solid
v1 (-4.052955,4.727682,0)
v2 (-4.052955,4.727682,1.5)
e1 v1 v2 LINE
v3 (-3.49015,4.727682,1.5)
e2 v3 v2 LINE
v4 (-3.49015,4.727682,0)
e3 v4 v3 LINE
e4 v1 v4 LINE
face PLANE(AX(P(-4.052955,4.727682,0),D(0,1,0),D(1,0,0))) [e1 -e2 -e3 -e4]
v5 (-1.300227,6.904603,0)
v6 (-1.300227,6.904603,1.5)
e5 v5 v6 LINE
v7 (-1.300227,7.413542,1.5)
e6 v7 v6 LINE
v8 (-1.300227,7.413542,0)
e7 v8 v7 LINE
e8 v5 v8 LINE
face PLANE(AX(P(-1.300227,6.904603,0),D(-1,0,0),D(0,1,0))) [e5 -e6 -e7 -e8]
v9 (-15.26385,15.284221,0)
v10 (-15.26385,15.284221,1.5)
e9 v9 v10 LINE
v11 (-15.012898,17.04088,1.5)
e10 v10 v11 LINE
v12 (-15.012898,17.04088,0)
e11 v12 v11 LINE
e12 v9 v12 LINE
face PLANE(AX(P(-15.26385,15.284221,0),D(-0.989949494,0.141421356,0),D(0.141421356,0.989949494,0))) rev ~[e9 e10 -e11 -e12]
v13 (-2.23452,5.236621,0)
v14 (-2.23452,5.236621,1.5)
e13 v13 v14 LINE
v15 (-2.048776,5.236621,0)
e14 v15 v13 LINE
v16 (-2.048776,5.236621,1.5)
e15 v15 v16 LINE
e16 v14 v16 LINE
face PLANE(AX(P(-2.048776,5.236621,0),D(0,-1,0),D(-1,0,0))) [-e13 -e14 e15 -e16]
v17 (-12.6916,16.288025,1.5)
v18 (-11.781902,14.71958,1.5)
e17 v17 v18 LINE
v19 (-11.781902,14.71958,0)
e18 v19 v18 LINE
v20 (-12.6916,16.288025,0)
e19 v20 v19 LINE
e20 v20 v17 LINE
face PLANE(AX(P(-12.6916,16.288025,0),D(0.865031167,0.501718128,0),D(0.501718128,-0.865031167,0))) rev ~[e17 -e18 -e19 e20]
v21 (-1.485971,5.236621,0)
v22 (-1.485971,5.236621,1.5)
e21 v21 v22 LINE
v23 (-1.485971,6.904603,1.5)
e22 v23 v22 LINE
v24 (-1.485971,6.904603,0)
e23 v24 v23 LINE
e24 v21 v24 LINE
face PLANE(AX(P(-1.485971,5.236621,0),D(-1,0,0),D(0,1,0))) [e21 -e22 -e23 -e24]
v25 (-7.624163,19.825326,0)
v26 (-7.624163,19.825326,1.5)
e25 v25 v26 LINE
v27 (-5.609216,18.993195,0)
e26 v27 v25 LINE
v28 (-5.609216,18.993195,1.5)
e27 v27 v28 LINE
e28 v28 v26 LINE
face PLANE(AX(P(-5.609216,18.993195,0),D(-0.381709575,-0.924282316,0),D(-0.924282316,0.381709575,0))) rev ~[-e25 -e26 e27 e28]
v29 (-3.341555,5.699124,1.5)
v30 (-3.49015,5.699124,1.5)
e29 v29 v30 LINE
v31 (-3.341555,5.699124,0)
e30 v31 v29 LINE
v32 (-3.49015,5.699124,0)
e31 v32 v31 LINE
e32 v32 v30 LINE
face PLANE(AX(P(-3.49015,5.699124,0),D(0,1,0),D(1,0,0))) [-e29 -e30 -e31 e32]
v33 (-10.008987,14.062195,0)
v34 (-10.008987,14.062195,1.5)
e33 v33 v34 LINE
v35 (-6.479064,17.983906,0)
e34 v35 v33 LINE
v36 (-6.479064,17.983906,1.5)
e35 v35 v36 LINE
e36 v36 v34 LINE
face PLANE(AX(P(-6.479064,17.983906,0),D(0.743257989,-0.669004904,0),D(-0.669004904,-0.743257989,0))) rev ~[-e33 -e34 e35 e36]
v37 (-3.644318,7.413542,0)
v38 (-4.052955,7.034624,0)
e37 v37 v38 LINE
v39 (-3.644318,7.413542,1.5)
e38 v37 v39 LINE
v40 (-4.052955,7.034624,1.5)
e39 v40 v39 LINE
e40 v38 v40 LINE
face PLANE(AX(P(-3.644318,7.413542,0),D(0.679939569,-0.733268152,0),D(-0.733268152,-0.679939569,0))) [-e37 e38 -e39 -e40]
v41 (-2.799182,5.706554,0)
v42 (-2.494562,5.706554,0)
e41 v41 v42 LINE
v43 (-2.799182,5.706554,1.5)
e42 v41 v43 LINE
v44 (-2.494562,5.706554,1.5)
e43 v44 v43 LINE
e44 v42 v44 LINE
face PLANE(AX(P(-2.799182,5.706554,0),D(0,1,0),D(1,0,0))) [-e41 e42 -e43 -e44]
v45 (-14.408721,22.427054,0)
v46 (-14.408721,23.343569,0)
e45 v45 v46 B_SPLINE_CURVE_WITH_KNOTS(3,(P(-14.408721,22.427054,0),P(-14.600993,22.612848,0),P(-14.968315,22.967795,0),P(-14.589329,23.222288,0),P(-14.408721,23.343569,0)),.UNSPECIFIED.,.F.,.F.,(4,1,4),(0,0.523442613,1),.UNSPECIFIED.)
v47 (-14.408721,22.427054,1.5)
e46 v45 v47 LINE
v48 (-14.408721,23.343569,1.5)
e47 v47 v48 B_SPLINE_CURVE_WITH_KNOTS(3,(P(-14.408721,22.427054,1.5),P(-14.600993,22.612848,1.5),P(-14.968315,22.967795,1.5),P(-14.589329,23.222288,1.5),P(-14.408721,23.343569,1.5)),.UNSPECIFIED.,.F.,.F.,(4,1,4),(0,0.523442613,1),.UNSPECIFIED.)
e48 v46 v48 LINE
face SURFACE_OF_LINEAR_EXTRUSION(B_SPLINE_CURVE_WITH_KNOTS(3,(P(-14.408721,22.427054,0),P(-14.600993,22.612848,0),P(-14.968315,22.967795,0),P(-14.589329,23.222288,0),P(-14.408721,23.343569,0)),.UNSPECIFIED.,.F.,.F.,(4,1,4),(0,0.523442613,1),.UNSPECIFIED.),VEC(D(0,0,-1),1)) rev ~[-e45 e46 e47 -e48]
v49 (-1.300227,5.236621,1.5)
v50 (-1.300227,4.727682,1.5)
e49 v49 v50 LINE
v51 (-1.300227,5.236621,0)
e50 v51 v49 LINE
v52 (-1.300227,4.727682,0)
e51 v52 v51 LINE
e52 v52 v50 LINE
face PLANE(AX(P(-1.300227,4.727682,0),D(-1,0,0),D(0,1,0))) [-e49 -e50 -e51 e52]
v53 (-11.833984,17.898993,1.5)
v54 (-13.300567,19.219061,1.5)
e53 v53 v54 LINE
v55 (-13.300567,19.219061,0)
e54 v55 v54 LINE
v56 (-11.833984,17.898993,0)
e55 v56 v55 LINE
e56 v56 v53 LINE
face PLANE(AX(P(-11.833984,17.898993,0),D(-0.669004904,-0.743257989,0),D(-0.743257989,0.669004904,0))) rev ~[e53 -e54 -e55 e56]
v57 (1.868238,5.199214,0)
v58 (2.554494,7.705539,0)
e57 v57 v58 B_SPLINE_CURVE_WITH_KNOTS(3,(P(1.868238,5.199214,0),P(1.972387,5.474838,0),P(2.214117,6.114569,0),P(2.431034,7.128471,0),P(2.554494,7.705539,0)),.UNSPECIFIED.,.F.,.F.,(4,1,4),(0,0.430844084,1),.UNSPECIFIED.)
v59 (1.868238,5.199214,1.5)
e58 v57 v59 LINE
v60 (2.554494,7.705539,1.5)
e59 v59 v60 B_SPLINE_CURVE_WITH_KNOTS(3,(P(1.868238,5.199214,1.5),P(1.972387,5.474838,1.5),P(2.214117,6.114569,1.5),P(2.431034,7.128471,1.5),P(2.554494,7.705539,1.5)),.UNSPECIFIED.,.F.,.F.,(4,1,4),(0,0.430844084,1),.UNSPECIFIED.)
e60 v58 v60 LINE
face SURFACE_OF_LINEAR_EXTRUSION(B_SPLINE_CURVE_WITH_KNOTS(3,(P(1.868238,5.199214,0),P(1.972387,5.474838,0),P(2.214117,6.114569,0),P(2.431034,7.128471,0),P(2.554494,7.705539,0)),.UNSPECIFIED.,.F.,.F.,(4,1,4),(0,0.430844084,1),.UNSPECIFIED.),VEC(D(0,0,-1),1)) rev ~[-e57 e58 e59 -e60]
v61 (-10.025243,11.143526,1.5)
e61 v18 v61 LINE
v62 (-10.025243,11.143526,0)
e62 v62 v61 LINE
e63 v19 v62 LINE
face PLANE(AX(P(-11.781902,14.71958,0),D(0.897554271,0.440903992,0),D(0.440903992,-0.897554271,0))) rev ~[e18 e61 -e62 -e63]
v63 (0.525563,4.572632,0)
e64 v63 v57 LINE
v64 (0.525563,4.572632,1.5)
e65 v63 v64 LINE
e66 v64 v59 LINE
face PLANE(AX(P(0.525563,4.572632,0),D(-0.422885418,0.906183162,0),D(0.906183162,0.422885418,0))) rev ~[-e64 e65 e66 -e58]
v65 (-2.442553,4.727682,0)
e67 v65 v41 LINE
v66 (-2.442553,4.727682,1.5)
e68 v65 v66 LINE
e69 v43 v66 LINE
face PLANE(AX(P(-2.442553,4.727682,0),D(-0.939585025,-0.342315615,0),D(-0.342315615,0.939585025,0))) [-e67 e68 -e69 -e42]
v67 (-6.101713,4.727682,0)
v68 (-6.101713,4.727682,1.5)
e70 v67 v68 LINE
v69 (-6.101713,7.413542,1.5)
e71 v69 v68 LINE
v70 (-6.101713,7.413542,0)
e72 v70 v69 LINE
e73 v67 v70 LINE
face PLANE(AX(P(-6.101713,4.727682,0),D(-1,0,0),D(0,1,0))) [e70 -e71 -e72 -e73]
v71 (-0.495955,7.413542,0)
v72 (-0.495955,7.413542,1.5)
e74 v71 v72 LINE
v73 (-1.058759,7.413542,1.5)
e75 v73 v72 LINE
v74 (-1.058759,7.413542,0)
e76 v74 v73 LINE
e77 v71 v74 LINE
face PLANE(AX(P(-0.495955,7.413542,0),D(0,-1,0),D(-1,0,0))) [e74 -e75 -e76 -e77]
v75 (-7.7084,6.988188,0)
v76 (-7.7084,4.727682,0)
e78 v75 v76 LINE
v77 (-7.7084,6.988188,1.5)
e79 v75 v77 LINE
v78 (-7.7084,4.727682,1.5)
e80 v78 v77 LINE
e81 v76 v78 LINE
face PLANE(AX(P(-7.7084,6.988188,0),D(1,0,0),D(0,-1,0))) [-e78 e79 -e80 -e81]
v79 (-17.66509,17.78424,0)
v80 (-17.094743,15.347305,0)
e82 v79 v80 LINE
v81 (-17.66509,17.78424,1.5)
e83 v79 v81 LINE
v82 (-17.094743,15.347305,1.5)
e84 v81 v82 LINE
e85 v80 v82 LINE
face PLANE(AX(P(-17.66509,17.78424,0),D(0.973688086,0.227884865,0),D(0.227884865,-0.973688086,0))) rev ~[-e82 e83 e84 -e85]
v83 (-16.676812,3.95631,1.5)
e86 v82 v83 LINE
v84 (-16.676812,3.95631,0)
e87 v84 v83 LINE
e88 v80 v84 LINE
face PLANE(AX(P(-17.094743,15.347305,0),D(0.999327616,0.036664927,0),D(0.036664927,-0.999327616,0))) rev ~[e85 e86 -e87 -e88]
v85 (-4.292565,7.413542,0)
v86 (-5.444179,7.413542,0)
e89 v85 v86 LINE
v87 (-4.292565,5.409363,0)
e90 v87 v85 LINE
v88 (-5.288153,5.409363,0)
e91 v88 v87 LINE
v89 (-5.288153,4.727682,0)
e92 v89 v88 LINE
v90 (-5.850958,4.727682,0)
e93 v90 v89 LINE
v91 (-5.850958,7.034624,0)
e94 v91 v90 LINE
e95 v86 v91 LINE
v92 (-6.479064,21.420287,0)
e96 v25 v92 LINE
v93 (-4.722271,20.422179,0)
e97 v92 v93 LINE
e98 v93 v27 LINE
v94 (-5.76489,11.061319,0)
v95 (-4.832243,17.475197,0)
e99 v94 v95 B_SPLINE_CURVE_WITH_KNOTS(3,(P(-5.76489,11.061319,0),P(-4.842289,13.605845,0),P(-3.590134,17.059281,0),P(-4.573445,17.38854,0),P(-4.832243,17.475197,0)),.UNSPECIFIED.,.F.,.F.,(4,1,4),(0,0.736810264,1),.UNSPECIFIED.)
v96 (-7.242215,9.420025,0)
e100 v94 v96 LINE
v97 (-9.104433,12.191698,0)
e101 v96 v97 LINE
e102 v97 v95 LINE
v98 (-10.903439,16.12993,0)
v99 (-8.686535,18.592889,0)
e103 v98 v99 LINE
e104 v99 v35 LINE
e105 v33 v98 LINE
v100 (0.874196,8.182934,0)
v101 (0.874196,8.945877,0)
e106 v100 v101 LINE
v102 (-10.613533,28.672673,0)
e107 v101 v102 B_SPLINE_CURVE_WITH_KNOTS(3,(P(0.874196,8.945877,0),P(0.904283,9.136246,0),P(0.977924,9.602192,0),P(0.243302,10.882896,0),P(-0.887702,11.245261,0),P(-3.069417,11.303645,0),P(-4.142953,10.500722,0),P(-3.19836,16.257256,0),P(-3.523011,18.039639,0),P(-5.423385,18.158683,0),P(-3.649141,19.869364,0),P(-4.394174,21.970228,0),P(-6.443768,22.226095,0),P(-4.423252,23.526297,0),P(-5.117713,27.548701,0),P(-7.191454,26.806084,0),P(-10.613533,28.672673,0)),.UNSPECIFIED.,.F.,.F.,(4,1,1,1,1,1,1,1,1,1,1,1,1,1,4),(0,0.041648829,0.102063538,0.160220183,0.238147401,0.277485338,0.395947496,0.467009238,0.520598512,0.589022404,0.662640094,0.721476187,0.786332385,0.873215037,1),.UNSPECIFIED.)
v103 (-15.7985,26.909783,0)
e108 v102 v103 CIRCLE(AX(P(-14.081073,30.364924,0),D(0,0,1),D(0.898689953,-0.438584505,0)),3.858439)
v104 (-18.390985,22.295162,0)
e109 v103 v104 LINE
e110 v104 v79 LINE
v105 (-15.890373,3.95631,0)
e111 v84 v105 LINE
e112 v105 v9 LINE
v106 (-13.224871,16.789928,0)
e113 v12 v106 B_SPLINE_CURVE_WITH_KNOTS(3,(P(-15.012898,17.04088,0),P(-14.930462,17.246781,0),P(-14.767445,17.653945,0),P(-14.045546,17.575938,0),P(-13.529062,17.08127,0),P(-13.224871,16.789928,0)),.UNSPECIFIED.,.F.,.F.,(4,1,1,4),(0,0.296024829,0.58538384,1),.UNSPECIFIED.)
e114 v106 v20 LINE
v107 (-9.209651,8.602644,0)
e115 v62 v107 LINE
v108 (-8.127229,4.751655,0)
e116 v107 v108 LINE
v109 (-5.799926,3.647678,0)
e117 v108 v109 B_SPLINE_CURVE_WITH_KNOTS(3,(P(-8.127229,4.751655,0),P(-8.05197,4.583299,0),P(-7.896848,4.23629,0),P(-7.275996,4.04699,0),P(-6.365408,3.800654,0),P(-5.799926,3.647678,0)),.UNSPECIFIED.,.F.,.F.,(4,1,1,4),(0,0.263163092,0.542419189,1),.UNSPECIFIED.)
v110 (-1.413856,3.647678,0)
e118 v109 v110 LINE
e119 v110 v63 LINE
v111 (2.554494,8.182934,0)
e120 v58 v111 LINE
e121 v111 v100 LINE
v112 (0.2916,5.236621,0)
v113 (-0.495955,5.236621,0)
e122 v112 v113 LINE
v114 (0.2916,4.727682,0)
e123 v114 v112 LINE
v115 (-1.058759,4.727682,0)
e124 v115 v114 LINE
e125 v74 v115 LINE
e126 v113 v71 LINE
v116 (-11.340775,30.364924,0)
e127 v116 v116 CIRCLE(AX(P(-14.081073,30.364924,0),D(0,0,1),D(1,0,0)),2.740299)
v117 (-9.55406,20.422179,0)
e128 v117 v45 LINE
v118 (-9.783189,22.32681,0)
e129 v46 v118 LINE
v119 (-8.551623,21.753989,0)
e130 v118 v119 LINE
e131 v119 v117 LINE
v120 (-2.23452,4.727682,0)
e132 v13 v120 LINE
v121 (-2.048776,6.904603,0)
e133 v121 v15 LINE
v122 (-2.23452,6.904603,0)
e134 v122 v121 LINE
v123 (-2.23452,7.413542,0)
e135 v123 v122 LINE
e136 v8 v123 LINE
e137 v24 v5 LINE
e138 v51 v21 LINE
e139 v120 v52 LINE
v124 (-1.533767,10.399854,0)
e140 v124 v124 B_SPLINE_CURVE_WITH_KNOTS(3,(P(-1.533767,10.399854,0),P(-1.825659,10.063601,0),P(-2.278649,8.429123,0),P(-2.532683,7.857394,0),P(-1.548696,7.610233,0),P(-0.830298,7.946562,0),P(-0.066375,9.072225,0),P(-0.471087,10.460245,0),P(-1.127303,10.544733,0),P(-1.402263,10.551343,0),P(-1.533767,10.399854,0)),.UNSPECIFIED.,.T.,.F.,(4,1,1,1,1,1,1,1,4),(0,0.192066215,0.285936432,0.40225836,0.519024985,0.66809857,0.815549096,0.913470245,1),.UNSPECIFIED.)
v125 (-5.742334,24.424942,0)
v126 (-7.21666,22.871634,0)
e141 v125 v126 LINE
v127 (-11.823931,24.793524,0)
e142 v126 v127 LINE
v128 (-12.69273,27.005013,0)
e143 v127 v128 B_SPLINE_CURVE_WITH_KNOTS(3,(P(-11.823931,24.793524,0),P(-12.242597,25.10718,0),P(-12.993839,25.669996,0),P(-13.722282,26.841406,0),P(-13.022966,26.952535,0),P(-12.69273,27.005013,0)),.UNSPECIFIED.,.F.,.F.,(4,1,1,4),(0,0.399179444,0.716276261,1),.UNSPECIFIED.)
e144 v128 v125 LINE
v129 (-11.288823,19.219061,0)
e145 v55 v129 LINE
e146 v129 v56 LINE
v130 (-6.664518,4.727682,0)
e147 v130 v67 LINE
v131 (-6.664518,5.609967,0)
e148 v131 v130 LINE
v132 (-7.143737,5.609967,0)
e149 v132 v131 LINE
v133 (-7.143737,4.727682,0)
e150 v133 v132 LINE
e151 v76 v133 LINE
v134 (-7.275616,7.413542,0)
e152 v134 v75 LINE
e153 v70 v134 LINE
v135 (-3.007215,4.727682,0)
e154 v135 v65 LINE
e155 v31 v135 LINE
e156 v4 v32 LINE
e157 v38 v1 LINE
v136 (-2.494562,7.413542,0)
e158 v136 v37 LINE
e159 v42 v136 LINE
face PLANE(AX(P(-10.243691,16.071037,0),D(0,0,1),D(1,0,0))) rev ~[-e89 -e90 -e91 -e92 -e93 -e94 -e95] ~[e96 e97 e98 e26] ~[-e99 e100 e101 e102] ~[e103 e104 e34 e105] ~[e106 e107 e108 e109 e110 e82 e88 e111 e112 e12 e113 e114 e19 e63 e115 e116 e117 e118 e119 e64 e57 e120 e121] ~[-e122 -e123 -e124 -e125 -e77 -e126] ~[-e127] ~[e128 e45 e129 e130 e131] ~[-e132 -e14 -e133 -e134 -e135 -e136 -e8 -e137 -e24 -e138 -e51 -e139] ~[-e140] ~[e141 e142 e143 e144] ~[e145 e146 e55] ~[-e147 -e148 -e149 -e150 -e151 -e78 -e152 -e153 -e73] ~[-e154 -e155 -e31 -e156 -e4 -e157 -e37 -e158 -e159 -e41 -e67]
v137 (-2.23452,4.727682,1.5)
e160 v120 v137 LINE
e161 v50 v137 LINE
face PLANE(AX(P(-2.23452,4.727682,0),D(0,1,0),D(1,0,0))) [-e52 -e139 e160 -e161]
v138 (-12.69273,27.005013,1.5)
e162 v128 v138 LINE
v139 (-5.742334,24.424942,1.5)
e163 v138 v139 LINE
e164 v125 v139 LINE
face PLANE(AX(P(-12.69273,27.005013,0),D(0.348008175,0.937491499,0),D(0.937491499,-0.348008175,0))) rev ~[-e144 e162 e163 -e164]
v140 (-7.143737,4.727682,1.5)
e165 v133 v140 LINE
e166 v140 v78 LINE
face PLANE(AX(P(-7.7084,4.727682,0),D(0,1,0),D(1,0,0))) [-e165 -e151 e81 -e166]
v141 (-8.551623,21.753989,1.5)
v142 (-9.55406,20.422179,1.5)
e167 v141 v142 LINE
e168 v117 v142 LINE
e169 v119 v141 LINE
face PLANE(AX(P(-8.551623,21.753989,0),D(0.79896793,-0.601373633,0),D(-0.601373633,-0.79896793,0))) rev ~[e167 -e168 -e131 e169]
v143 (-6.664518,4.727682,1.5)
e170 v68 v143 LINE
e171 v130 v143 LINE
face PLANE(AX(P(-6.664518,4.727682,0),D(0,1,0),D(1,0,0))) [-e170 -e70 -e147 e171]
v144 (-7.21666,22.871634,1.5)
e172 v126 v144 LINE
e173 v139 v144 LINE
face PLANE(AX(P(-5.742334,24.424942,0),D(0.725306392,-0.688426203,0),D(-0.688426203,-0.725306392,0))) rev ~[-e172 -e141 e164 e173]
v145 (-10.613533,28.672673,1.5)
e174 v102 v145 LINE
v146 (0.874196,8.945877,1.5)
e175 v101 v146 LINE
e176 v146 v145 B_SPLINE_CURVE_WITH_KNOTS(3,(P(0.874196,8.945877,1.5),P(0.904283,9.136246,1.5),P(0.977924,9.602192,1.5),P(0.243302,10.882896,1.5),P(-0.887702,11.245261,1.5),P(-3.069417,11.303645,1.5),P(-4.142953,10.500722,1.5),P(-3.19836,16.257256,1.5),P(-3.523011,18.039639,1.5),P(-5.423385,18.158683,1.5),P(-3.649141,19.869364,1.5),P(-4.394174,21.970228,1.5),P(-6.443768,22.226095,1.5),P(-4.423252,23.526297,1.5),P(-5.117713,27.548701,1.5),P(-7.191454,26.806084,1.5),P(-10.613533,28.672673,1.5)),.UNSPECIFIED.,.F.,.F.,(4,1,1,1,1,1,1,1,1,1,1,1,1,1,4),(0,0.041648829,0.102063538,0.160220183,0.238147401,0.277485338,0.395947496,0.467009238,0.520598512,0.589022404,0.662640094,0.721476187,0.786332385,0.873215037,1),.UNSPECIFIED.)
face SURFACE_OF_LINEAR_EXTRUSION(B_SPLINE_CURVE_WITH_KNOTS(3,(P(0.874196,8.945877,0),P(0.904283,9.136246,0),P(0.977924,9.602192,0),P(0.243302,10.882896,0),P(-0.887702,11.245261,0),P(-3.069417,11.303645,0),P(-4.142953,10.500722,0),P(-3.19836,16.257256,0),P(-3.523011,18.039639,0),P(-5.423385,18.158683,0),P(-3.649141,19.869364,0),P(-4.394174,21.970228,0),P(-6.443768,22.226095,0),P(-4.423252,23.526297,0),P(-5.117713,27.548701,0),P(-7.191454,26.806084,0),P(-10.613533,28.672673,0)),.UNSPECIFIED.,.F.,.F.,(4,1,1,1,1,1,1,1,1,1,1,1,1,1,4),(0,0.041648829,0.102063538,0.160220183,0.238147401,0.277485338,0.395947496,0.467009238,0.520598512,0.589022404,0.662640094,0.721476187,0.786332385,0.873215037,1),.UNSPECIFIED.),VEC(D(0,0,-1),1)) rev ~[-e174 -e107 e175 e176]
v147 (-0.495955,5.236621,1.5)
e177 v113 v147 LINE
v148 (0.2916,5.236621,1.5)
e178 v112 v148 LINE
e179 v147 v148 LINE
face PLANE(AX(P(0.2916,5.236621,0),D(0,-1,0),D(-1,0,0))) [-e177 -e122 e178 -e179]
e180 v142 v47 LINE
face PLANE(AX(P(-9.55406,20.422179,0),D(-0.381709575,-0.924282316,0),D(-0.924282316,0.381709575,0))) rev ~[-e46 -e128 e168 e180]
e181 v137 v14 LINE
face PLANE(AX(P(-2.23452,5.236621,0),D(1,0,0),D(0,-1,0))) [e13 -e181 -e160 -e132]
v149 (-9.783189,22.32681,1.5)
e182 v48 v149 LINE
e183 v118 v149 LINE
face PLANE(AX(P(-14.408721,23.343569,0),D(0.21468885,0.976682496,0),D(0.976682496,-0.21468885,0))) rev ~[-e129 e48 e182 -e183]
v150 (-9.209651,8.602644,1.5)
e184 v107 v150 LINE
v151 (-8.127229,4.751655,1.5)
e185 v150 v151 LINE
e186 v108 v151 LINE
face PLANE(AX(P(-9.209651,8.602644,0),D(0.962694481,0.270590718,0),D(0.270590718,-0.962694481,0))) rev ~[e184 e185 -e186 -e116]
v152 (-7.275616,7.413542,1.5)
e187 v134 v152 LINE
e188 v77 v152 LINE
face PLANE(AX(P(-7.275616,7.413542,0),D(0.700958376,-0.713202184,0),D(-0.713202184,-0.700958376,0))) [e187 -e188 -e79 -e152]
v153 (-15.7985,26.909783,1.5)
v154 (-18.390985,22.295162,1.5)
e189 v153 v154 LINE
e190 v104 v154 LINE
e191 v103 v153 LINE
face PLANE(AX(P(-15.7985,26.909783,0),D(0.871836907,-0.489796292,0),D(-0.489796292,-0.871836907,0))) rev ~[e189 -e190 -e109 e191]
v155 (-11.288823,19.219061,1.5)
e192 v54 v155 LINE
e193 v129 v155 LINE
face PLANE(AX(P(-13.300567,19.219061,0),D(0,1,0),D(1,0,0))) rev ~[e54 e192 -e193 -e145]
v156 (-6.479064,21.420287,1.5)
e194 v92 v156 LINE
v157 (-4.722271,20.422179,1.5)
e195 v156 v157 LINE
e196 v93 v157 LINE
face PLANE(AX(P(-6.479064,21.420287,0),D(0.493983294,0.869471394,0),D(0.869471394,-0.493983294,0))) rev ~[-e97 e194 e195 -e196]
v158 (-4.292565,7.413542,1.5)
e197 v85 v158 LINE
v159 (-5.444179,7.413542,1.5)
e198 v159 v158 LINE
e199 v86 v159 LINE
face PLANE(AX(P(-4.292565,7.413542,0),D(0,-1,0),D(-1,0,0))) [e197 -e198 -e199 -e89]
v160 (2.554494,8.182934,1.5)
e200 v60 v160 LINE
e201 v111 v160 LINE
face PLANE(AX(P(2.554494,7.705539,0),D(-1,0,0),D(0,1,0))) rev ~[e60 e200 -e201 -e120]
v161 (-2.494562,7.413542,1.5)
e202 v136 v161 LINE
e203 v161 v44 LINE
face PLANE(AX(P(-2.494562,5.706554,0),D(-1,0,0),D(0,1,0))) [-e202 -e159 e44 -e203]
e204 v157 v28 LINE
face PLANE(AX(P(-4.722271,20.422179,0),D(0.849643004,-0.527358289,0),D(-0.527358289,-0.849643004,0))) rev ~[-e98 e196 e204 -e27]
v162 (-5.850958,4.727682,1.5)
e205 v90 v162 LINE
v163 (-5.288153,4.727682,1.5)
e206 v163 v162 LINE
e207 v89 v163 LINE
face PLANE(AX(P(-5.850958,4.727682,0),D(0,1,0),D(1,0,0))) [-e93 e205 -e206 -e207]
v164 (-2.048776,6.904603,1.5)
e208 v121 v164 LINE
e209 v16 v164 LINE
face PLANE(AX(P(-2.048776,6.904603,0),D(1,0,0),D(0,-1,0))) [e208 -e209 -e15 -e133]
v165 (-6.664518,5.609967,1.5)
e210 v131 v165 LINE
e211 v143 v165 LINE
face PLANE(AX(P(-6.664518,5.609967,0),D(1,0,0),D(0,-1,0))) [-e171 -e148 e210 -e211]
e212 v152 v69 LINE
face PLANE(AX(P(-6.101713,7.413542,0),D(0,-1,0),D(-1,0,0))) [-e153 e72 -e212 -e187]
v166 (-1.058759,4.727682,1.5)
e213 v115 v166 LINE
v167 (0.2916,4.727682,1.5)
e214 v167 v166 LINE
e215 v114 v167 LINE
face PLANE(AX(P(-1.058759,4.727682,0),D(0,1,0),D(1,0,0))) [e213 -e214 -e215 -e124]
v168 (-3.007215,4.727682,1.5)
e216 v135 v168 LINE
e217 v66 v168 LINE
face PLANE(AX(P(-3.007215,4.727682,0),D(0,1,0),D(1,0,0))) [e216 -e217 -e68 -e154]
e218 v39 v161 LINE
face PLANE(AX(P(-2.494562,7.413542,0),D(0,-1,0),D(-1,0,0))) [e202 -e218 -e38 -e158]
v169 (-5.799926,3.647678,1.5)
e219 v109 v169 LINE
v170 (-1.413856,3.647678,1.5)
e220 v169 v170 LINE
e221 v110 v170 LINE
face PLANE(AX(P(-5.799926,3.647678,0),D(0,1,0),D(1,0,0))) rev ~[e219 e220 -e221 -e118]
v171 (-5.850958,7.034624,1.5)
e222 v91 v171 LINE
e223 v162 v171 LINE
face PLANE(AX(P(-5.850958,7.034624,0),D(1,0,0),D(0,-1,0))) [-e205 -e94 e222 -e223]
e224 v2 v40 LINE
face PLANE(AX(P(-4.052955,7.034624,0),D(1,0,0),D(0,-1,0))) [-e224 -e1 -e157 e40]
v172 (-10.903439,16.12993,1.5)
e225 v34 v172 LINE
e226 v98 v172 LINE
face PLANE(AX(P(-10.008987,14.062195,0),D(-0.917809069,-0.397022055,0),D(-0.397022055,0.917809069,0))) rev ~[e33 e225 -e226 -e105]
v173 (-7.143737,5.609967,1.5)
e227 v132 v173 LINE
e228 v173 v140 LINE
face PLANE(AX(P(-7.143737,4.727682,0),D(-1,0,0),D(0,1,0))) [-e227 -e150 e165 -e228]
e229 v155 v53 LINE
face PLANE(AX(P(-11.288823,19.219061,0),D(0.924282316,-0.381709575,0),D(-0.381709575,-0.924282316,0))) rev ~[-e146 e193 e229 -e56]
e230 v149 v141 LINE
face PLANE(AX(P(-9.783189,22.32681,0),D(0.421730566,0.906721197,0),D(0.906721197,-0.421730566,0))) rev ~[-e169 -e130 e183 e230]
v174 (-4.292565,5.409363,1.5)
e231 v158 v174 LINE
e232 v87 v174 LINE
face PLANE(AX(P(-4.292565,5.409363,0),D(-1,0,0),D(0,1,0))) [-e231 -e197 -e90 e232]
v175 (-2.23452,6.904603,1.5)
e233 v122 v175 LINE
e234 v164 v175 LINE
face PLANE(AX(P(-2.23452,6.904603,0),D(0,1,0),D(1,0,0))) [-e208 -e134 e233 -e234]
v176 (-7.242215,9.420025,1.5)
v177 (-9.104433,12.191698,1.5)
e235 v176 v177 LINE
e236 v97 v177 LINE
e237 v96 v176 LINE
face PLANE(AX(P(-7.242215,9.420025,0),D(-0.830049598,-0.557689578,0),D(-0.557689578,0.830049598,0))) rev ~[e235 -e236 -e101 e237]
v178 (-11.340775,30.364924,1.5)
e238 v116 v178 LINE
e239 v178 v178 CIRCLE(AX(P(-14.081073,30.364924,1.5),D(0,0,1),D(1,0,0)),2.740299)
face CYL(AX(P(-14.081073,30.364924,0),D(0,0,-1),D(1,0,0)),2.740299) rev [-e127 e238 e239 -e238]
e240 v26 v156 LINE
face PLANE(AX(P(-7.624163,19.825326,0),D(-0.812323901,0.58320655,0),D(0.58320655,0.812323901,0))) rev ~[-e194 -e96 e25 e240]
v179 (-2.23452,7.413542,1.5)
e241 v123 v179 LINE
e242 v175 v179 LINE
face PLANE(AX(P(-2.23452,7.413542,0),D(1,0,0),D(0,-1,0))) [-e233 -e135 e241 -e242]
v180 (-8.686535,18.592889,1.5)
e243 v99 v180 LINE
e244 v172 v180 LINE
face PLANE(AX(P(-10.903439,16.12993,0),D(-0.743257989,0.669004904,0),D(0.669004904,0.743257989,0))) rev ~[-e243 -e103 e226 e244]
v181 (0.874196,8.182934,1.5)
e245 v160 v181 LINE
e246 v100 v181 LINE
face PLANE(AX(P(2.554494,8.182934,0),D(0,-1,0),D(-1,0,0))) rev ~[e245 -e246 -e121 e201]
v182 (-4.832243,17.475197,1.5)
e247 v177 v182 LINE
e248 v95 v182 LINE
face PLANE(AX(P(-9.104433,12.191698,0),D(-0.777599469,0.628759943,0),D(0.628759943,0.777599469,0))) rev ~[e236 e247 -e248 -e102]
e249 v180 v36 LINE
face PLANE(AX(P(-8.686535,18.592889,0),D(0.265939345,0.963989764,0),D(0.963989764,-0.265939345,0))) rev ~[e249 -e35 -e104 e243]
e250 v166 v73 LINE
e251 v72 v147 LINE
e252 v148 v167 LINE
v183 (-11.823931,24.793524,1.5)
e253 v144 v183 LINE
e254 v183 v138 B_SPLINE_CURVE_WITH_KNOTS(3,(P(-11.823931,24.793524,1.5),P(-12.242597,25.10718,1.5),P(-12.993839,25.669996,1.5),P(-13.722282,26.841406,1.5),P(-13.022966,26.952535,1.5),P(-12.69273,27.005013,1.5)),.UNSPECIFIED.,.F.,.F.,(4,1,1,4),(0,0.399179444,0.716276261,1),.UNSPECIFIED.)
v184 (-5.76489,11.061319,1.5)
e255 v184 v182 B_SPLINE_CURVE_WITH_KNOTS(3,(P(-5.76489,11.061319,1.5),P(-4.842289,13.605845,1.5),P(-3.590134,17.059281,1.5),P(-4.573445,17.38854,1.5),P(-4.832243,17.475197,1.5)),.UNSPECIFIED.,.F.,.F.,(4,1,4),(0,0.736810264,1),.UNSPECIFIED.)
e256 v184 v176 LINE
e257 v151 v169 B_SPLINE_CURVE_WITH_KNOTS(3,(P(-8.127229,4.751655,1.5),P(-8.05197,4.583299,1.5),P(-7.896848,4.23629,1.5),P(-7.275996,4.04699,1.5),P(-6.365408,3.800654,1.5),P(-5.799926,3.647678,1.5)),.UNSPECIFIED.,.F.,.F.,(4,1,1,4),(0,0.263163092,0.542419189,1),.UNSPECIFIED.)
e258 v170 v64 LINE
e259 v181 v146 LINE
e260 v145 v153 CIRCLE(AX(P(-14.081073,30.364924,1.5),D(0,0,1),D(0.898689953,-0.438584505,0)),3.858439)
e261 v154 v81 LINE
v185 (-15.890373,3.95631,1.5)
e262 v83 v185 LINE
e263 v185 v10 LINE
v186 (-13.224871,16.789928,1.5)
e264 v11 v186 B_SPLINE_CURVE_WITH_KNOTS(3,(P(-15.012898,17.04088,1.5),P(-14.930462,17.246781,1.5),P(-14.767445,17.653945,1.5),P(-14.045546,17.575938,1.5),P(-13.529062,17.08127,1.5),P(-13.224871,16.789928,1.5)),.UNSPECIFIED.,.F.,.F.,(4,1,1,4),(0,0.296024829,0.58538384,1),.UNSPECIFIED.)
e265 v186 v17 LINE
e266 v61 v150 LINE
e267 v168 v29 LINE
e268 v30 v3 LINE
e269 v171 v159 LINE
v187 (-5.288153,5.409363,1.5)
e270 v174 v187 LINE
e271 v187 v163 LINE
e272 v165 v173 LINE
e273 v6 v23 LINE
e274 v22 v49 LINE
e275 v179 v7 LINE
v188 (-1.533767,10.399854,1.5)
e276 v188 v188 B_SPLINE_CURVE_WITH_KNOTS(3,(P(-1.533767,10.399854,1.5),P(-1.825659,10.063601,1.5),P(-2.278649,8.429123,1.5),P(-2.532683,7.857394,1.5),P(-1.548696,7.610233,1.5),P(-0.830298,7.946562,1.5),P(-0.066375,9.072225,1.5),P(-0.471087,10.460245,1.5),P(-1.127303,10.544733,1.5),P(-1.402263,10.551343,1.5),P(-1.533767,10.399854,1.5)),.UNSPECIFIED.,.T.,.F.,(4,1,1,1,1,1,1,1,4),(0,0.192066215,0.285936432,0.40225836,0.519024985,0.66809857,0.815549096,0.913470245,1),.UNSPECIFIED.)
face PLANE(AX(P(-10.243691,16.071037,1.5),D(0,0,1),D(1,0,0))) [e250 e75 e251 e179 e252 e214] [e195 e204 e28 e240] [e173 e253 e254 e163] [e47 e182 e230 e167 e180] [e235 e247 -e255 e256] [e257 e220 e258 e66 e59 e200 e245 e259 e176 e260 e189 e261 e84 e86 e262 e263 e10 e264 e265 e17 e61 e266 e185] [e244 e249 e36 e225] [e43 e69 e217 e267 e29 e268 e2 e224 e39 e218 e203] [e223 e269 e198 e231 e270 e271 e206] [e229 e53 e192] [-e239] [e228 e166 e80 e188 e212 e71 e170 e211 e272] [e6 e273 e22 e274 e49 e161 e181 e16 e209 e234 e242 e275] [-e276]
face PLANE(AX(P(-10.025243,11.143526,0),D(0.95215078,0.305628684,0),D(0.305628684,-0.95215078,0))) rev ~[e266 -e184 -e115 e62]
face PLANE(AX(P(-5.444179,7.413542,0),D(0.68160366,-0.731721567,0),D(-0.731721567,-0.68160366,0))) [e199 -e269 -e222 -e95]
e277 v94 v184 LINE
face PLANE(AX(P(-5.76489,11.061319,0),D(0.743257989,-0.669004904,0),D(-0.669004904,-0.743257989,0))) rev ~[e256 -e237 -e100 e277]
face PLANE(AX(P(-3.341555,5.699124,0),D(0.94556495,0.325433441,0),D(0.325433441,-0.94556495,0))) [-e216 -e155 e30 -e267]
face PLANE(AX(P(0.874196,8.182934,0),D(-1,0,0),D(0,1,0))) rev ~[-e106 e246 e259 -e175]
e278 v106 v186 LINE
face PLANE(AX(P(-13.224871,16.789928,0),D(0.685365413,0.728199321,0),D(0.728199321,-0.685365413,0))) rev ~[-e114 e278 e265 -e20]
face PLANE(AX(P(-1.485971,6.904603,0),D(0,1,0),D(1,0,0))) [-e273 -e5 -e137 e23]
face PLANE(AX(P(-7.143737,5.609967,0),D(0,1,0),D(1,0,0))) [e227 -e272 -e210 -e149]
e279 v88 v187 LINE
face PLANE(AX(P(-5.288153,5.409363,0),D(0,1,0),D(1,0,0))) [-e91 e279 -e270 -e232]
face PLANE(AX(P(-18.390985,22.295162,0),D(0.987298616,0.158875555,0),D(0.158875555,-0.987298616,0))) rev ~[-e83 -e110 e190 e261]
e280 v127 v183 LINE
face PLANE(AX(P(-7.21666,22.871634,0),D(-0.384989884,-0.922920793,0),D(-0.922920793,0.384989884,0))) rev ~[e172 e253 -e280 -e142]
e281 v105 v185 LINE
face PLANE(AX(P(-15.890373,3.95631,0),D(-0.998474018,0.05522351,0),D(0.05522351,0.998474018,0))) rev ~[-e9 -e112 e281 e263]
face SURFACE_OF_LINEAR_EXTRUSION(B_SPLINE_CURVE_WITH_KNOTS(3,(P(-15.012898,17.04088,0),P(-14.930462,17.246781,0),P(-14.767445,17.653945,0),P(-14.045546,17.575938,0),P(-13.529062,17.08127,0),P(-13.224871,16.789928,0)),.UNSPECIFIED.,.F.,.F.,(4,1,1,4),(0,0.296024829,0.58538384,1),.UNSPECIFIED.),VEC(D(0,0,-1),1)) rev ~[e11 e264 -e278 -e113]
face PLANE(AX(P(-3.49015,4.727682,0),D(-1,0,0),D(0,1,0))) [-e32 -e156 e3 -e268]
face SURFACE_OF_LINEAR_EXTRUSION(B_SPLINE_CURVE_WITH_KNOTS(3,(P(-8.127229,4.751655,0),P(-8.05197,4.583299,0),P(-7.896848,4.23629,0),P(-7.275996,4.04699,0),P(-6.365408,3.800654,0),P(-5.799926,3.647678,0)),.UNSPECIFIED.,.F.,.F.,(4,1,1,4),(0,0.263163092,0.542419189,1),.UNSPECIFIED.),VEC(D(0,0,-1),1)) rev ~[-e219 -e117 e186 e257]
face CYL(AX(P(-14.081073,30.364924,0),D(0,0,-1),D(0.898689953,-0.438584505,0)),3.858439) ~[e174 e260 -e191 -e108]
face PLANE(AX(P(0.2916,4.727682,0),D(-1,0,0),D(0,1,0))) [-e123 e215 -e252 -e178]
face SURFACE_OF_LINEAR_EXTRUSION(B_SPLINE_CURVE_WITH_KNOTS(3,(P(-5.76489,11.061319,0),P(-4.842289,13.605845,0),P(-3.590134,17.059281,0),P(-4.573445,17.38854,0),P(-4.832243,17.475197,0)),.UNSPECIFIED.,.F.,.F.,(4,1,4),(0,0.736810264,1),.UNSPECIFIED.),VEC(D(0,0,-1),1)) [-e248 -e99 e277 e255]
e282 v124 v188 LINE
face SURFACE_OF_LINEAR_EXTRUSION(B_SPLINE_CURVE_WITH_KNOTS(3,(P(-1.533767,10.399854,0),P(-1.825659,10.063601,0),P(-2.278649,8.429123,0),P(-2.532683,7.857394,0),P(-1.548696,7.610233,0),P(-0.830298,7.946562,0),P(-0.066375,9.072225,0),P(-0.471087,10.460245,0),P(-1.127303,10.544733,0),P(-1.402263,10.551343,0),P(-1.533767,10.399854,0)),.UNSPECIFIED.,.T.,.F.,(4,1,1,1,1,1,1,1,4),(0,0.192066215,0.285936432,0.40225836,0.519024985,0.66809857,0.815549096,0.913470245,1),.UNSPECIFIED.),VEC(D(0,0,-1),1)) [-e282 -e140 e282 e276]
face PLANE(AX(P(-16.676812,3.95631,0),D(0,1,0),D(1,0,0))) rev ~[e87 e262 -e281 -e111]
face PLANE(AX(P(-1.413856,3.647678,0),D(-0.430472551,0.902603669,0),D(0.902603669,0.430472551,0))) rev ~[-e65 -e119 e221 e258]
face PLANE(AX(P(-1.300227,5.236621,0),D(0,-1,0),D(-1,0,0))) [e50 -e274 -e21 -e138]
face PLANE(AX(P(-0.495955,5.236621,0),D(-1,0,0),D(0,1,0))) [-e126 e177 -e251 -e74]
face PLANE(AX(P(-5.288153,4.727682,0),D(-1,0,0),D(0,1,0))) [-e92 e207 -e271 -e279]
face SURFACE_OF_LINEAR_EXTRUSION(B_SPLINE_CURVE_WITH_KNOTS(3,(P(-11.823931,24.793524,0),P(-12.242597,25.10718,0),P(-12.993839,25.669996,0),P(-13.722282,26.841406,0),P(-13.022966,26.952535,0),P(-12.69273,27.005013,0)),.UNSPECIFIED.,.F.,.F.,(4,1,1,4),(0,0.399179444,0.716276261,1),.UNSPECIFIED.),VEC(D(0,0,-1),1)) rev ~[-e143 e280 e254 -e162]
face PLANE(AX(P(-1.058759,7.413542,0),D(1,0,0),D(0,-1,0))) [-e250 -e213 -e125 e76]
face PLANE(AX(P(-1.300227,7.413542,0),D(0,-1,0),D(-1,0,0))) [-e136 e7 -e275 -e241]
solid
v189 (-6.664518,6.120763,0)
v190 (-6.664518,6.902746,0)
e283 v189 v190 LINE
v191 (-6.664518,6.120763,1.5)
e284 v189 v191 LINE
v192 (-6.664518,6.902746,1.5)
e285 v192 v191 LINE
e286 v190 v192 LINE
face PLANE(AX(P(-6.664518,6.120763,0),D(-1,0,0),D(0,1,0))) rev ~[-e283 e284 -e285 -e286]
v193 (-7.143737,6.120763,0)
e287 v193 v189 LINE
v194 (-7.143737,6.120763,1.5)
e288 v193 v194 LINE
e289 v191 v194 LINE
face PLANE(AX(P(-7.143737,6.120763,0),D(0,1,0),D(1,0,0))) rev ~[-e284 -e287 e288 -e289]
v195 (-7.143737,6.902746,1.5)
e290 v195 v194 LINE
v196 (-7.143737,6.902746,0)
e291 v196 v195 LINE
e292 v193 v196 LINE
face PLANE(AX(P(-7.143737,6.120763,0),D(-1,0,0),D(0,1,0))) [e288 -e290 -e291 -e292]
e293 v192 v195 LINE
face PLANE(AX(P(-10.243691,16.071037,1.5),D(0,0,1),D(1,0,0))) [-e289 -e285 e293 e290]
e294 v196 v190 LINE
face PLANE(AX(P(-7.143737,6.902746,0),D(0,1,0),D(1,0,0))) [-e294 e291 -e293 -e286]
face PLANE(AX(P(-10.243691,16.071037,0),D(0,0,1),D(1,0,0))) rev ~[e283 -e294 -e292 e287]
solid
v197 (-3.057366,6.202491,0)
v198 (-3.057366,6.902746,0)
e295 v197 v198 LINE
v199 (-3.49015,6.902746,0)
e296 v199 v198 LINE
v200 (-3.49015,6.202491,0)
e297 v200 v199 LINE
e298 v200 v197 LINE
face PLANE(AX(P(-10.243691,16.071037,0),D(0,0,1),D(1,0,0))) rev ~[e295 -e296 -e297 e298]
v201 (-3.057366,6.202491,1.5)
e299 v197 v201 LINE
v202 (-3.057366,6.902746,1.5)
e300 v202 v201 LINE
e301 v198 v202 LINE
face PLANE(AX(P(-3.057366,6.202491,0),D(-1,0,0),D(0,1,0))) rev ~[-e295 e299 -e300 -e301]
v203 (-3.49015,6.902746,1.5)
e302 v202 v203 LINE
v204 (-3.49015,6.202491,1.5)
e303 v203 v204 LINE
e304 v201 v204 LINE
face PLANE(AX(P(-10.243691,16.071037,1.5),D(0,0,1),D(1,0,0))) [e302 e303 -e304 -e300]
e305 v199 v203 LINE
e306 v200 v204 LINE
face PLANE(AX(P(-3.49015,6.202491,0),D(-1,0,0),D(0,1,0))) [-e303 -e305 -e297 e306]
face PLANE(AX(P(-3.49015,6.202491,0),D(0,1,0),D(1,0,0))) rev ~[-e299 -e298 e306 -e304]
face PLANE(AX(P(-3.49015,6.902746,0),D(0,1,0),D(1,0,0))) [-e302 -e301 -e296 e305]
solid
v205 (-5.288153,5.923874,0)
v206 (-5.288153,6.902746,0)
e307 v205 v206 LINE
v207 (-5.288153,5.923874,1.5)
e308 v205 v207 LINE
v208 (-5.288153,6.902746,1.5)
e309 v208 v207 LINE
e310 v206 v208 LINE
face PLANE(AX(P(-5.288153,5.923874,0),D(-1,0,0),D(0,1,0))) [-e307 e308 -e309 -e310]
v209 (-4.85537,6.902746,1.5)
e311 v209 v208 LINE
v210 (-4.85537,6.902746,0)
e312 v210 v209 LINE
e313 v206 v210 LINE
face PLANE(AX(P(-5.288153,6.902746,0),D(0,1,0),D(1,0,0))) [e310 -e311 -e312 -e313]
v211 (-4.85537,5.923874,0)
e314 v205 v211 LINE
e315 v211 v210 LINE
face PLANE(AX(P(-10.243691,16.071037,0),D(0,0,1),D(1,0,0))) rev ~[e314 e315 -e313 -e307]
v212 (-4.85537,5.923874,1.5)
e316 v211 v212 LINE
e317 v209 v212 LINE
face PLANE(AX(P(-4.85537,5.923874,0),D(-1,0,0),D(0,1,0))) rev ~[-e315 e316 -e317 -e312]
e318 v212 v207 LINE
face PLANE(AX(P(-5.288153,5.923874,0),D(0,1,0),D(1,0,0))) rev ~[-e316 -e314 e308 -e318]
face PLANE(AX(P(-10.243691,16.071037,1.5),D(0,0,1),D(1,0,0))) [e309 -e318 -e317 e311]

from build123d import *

# Parameters (mm, degrees)
F0_R     = 2.7402986622
F2_DEPTH = 1.5
F1_W     = 0.4792198768
F1_H     = 0.7819828136
F1_W_2   = 0.4327838469
F1_H_2   = 0.9788715972
F1_H_3   = 0.7002553956
F3_DEPTH = 25.4


with BuildPart() as f2:
    # F0 (on Top) → F2 (new body)
    with BuildSketch(Plane.XY):
        with BuildLine():
            Line((-17.0947425067, 15.347304754), (-16.6768115014, 3.9563099854))
            Line((-16.6768115014, 3.9563099854), (-15.8903729171, 3.9563099854))
            Line((-15.8903729171, 3.9563099854), (-15.2638498694, 15.284220688))
            Line((-15.2638498694, 15.284220688), (-15.0128984824, 17.040880397))
            add(Edge.make_bspline(
                [(-15.0128984824, 17.040880397), (-14.9304618209, 17.2467806475), (-14.7674447872, 17.6539447355), (-14.0455459233, 17.5759381815), (-13.5290616404, 17.081269949), (-13.2248708978, 16.7899280787)],
                knots=[0, 0, 0, 0, 0.2960248285, 0.5853838398, 1, 1, 1, 1], degree=3))
            Line((-13.2248708978, 16.7899280787), (-12.6916002482, 16.2880253047))
            Line((-12.6916002482, 16.2880253047), (-11.7819020525, 14.7195803002))
            Line((-11.7819020525, 14.7195803002), (-10.0252432749, 11.1435260624))
            Line((-10.0252432749, 11.1435260624), (-9.2096515, 8.6026443169))
            Line((-9.2096515, 8.6026443169), (-8.1272292882, 4.7516552731))
            add(Edge.make_bspline(
                [(-8.1272292882, 4.7516552731), (-8.0519695337, 4.5832987422), (-7.8968477242, 4.2362903062), (-7.2759957137, 4.0469899119), (-6.3654077617, 3.8006542279), (-5.7999263518, 3.647678066)],
                knots=[0, 0, 0, 0, 0.263163092, 0.5424191889, 1, 1, 1, 1], degree=3))
            Line((-5.7999263518, 3.647678066), (-3.323437646, 3.647678066))
            Line((-3.323437646, 3.647678066), (-1.4138559345, 3.647678066))
            Line((-1.4138559345, 3.647678066), (0.525563024, 4.5726317912))
            Line((0.525563024, 4.5726317912), (1.8682383234, 5.1992135122))
            add(Edge.make_bspline(
                [(1.8682383234, 5.1992135122), (1.972386624, 5.4748378165), (2.21411746, 6.1145687876), (2.4310343978, 7.1284710144), (2.5544939563, 7.705539465)],
                knots=[0, 0, 0, 0, 0.4308440841, 1, 1, 1, 1], degree=3))
            Line((2.5544939563, 7.705539465), (2.5544939563, 8.1829344854))
            Line((2.5544939563, 8.1829344854), (0.8741955971, 8.1829344854))
            Line((0.8741955971, 8.1829344854), (0.8741955971, 8.9458767325))
            add(Edge.make_bspline(
                [(0.8741955971, 8.9458767325), (0.9042829382, 9.1362461938), (0.9779242264, 9.6021915382), (0.2433018959, 10.8828957979), (-0.8877019702, 11.2452606832), (-3.0694174939, 11.3036445811), (-4.1429526474, 10.5007215586), (-3.19835981, 16.2572556985), (-3.5230107509, 18.039638691), (-5.4233853606, 18.1586829155), (-3.6491407444, 19.8693638524), (-4.3941738209, 21.9702283678), (-6.4437681223, 22.226094831), (-4.4232516561, 23.5262967878), (-5.1177133162, 27.5487013005), (-7.1914535947, 26.8060844392), (-10.6135327369, 28.6726728082)],
                knots=[0, 0, 0, 0, 0.0416488288, 0.1020635384, 0.1602201826, 0.2381474007, 0.2774853382, 0.3959474956, 0.4670092378, 0.5205985117, 0.5890224041, 0.6626400943, 0.7214761865, 0.786332385, 0.8732150374, 1, 1, 1, 1], degree=3))
            ThreePointArc((-10.6135327369, 28.6726728082), (-15.3231157261, 34.0179894027), (-15.7984998077, 26.9097834826))
            Line((-15.7984998077, 26.9097834826), (-18.3909852058, 22.2951620817))
            Line((-18.3909852058, 22.2951620817), (-17.6650900394, 17.7842397243))
            Line((-17.6650900394, 17.7842397243), (-17.0947425067, 15.347304754))
        make_face()
        Polygon((-11.8339837041, 17.898992976), (-13.300566934, 19.2190613598), (-11.2888226286, 19.2190613598), align=None, mode=Mode.SUBTRACT)
        Polygon((-10.0089872993, 14.0621947504), (-10.9034394845, 16.1299295723), (-8.6865349557, 18.592889101), (-6.479063537, 17.9839059711), align=None, mode=Mode.SUBTRACT)
        with BuildLine():
            add(Edge.make_bspline(
                [(-1.5337667428, 10.3998538107), (-1.8256591818, 10.063600913), (-2.2786486978, 8.4291230862), (-2.5326832377, 7.8573937842), (-1.5486957063, 7.6102330545), (-0.8302975041, 7.9465621521), (-0.0663747535, 9.0722252418), (-0.4710872513, 10.4602446974), (-1.1273025849, 10.5447333804), (-1.4022632342, 10.5513426124), (-1.5337667428, 10.3998538107)],
                knots=[0, 0, 0, 0, 0.192066215, 0.2859364323, 0.4022583598, 0.5190249851, 0.6680985696, 0.8155490961, 0.9134702453, 1, 1, 1, 1], degree=3))
        make_face(mode=Mode.SUBTRACT)
        with BuildLine():
            Line((-9.1044325382, 12.1916979551), (-4.8322426155, 17.4751970917))
            add(Edge.make_bspline(
                [(-5.7648901438, 11.0613186661), (-4.8422891886, 13.6058452371), (-3.5901337827, 17.0592805313), (-4.5734451551, 17.3885395084), (-4.8322426155, 17.4751970917)],
                knots=[0, 0, 0, 0, 0.7368102641, 1, 1, 1, 1], degree=3))
            Line((-5.7648901438, 11.0613186661), (-7.242214866, 9.4200251624))
            Line((-7.242214866, 9.4200251624), (-9.1044325382, 12.1916979551))
        make_face(mode=Mode.SUBTRACT)
        with BuildLine():
            Line((-14.4087206572, 23.3435686678), (-9.7831888124, 22.3268102854))
            Line((-9.7831888124, 22.3268102854), (-8.5516227409, 21.7539891601))
            Line((-8.5516227409, 21.7539891601), (-9.554060176, 20.4221792519))
            Line((-9.554060176, 20.4221792519), (-14.4087206572, 22.4270541221))
            add(Edge.make_bspline(
                [(-14.4087206572, 22.4270541221), (-14.6009926075, 22.6128483706), (-14.9683145363, 22.9677951093), (-14.5893290095, 23.222288136), (-14.4087206572, 23.3435686678)],
                knots=[0, 0, 0, 0, 0.5234426133, 1, 1, 1, 1], degree=3))
        make_face(mode=Mode.SUBTRACT)
        with BuildLine():
            add(Edge.make_bspline(
                [(-11.8239307776, 24.7935242951), (-12.2425968127, 25.1071804198), (-12.9938392587, 25.6699960641), (-13.7222818392, 26.8414064237), (-13.0229658794, 26.9525351052), (-12.6927299425, 27.0050130785)],
                knots=[0, 0, 0, 0, 0.3991794442, 0.7162762606, 1, 1, 1, 1], degree=3))
            Line((-12.6927299425, 27.0050130785), (-5.7423342951, 24.4249422103))
            Line((-5.7423342951, 24.4249422103), (-7.2166603059, 22.8716339916))
            Line((-7.2166603059, 22.8716339916), (-11.8239307776, 24.7935242951))
        make_face(mode=Mode.SUBTRACT)
        with Locations((-14.0810732747, 30.3649244499)):
            Circle(F0_R, mode=Mode.SUBTRACT)
        Polygon((-7.6241628267, 19.8253262788), (-6.479063537, 21.4202869684), (-4.7222711146, 20.4221792519), (-5.6092163068, 18.9931948336), align=None, mode=Mode.SUBTRACT)
    extrude(amount=F2_DEPTH)

    # F1 (on Top) → F3 (cut)
    with BuildSketch(Plane.XY):
        Polygon((-7.7083995566, 4.7276820987), (-7.1437373811, 4.7276820987), (-7.1437373811, 5.6099667444), (-6.6645175043, 5.6099667444), (-6.6645175043, 4.7276820987), (-6.1017127692, 4.7276820987), (-6.1017127692, 7.4135423264), (-7.2756157207, 7.4135423264), (-7.7083995566, 6.9881882517), align=None)
        with Locations((-6.9041274427, 6.5117545354)):
            Rectangle(F1_W, F1_H, mode=Mode.SUBTRACT)
        Polygon((-5.8509581834, 4.7276820987), (-5.2881534483, 4.7276820987), (-5.2881534483, 5.4093630802), (-4.2925648663, 5.4093630802), (-4.2925648663, 7.4135423264), (-5.444178523, 7.4135423264), (-5.8509581834, 7.0346242817), align=None)
        with Locations((-5.0717615249, 6.4133101436)):
            Rectangle(F1_W_2, F1_H_2, mode=Mode.SUBTRACT)
        Polygon((-3.3415548849, 5.6991239346), (-3.0072154408, 4.7276820987), (-2.4425532545, 4.7276820987), (-2.7991820043, 5.7065536959), (-2.4945616163, 5.7065536959), (-2.4945616163, 7.4135423264), (-3.6443178326, 7.4135423264), (-4.0529549334, 7.0346242817), (-4.0529549334, 4.7276820987), (-3.4901501983, 4.7276820987), (-3.4901501983, 5.6991239346), align=None)
        with Locations((-3.2737582749, 6.5526182444)):
            Rectangle(F1_W_2, F1_H_3, mode=Mode.SUBTRACT)
        Polygon((-1.3002268104, 4.7276820987), (-1.3002268104, 5.2366210317), (-1.4859709521, 5.2366210317), (-1.4859709521, 6.9046033934), (-1.3002268104, 6.9046033934), (-1.3002268104, 7.4135423264), (-2.234519818, 7.4135423264), (-2.234519818, 6.9046033934), (-2.0487756872, 6.9046033934), (-2.0487756872, 5.2366210317), (-2.234519818, 5.2366210317), (-2.234519818, 4.7276820987), align=None)
        Polygon((-1.0587594371, 7.4135423264), (-1.0587594371, 4.7276820987), (0.2916004434, 4.7276820987), (0.2916004434, 5.2366210317), (-0.4959546911, 5.2366210317), (-0.4959546911, 7.4135423264), align=None)
    extrude(amount=F3_DEPTH, mode=Mode.SUBTRACT)


solid = f2.part
